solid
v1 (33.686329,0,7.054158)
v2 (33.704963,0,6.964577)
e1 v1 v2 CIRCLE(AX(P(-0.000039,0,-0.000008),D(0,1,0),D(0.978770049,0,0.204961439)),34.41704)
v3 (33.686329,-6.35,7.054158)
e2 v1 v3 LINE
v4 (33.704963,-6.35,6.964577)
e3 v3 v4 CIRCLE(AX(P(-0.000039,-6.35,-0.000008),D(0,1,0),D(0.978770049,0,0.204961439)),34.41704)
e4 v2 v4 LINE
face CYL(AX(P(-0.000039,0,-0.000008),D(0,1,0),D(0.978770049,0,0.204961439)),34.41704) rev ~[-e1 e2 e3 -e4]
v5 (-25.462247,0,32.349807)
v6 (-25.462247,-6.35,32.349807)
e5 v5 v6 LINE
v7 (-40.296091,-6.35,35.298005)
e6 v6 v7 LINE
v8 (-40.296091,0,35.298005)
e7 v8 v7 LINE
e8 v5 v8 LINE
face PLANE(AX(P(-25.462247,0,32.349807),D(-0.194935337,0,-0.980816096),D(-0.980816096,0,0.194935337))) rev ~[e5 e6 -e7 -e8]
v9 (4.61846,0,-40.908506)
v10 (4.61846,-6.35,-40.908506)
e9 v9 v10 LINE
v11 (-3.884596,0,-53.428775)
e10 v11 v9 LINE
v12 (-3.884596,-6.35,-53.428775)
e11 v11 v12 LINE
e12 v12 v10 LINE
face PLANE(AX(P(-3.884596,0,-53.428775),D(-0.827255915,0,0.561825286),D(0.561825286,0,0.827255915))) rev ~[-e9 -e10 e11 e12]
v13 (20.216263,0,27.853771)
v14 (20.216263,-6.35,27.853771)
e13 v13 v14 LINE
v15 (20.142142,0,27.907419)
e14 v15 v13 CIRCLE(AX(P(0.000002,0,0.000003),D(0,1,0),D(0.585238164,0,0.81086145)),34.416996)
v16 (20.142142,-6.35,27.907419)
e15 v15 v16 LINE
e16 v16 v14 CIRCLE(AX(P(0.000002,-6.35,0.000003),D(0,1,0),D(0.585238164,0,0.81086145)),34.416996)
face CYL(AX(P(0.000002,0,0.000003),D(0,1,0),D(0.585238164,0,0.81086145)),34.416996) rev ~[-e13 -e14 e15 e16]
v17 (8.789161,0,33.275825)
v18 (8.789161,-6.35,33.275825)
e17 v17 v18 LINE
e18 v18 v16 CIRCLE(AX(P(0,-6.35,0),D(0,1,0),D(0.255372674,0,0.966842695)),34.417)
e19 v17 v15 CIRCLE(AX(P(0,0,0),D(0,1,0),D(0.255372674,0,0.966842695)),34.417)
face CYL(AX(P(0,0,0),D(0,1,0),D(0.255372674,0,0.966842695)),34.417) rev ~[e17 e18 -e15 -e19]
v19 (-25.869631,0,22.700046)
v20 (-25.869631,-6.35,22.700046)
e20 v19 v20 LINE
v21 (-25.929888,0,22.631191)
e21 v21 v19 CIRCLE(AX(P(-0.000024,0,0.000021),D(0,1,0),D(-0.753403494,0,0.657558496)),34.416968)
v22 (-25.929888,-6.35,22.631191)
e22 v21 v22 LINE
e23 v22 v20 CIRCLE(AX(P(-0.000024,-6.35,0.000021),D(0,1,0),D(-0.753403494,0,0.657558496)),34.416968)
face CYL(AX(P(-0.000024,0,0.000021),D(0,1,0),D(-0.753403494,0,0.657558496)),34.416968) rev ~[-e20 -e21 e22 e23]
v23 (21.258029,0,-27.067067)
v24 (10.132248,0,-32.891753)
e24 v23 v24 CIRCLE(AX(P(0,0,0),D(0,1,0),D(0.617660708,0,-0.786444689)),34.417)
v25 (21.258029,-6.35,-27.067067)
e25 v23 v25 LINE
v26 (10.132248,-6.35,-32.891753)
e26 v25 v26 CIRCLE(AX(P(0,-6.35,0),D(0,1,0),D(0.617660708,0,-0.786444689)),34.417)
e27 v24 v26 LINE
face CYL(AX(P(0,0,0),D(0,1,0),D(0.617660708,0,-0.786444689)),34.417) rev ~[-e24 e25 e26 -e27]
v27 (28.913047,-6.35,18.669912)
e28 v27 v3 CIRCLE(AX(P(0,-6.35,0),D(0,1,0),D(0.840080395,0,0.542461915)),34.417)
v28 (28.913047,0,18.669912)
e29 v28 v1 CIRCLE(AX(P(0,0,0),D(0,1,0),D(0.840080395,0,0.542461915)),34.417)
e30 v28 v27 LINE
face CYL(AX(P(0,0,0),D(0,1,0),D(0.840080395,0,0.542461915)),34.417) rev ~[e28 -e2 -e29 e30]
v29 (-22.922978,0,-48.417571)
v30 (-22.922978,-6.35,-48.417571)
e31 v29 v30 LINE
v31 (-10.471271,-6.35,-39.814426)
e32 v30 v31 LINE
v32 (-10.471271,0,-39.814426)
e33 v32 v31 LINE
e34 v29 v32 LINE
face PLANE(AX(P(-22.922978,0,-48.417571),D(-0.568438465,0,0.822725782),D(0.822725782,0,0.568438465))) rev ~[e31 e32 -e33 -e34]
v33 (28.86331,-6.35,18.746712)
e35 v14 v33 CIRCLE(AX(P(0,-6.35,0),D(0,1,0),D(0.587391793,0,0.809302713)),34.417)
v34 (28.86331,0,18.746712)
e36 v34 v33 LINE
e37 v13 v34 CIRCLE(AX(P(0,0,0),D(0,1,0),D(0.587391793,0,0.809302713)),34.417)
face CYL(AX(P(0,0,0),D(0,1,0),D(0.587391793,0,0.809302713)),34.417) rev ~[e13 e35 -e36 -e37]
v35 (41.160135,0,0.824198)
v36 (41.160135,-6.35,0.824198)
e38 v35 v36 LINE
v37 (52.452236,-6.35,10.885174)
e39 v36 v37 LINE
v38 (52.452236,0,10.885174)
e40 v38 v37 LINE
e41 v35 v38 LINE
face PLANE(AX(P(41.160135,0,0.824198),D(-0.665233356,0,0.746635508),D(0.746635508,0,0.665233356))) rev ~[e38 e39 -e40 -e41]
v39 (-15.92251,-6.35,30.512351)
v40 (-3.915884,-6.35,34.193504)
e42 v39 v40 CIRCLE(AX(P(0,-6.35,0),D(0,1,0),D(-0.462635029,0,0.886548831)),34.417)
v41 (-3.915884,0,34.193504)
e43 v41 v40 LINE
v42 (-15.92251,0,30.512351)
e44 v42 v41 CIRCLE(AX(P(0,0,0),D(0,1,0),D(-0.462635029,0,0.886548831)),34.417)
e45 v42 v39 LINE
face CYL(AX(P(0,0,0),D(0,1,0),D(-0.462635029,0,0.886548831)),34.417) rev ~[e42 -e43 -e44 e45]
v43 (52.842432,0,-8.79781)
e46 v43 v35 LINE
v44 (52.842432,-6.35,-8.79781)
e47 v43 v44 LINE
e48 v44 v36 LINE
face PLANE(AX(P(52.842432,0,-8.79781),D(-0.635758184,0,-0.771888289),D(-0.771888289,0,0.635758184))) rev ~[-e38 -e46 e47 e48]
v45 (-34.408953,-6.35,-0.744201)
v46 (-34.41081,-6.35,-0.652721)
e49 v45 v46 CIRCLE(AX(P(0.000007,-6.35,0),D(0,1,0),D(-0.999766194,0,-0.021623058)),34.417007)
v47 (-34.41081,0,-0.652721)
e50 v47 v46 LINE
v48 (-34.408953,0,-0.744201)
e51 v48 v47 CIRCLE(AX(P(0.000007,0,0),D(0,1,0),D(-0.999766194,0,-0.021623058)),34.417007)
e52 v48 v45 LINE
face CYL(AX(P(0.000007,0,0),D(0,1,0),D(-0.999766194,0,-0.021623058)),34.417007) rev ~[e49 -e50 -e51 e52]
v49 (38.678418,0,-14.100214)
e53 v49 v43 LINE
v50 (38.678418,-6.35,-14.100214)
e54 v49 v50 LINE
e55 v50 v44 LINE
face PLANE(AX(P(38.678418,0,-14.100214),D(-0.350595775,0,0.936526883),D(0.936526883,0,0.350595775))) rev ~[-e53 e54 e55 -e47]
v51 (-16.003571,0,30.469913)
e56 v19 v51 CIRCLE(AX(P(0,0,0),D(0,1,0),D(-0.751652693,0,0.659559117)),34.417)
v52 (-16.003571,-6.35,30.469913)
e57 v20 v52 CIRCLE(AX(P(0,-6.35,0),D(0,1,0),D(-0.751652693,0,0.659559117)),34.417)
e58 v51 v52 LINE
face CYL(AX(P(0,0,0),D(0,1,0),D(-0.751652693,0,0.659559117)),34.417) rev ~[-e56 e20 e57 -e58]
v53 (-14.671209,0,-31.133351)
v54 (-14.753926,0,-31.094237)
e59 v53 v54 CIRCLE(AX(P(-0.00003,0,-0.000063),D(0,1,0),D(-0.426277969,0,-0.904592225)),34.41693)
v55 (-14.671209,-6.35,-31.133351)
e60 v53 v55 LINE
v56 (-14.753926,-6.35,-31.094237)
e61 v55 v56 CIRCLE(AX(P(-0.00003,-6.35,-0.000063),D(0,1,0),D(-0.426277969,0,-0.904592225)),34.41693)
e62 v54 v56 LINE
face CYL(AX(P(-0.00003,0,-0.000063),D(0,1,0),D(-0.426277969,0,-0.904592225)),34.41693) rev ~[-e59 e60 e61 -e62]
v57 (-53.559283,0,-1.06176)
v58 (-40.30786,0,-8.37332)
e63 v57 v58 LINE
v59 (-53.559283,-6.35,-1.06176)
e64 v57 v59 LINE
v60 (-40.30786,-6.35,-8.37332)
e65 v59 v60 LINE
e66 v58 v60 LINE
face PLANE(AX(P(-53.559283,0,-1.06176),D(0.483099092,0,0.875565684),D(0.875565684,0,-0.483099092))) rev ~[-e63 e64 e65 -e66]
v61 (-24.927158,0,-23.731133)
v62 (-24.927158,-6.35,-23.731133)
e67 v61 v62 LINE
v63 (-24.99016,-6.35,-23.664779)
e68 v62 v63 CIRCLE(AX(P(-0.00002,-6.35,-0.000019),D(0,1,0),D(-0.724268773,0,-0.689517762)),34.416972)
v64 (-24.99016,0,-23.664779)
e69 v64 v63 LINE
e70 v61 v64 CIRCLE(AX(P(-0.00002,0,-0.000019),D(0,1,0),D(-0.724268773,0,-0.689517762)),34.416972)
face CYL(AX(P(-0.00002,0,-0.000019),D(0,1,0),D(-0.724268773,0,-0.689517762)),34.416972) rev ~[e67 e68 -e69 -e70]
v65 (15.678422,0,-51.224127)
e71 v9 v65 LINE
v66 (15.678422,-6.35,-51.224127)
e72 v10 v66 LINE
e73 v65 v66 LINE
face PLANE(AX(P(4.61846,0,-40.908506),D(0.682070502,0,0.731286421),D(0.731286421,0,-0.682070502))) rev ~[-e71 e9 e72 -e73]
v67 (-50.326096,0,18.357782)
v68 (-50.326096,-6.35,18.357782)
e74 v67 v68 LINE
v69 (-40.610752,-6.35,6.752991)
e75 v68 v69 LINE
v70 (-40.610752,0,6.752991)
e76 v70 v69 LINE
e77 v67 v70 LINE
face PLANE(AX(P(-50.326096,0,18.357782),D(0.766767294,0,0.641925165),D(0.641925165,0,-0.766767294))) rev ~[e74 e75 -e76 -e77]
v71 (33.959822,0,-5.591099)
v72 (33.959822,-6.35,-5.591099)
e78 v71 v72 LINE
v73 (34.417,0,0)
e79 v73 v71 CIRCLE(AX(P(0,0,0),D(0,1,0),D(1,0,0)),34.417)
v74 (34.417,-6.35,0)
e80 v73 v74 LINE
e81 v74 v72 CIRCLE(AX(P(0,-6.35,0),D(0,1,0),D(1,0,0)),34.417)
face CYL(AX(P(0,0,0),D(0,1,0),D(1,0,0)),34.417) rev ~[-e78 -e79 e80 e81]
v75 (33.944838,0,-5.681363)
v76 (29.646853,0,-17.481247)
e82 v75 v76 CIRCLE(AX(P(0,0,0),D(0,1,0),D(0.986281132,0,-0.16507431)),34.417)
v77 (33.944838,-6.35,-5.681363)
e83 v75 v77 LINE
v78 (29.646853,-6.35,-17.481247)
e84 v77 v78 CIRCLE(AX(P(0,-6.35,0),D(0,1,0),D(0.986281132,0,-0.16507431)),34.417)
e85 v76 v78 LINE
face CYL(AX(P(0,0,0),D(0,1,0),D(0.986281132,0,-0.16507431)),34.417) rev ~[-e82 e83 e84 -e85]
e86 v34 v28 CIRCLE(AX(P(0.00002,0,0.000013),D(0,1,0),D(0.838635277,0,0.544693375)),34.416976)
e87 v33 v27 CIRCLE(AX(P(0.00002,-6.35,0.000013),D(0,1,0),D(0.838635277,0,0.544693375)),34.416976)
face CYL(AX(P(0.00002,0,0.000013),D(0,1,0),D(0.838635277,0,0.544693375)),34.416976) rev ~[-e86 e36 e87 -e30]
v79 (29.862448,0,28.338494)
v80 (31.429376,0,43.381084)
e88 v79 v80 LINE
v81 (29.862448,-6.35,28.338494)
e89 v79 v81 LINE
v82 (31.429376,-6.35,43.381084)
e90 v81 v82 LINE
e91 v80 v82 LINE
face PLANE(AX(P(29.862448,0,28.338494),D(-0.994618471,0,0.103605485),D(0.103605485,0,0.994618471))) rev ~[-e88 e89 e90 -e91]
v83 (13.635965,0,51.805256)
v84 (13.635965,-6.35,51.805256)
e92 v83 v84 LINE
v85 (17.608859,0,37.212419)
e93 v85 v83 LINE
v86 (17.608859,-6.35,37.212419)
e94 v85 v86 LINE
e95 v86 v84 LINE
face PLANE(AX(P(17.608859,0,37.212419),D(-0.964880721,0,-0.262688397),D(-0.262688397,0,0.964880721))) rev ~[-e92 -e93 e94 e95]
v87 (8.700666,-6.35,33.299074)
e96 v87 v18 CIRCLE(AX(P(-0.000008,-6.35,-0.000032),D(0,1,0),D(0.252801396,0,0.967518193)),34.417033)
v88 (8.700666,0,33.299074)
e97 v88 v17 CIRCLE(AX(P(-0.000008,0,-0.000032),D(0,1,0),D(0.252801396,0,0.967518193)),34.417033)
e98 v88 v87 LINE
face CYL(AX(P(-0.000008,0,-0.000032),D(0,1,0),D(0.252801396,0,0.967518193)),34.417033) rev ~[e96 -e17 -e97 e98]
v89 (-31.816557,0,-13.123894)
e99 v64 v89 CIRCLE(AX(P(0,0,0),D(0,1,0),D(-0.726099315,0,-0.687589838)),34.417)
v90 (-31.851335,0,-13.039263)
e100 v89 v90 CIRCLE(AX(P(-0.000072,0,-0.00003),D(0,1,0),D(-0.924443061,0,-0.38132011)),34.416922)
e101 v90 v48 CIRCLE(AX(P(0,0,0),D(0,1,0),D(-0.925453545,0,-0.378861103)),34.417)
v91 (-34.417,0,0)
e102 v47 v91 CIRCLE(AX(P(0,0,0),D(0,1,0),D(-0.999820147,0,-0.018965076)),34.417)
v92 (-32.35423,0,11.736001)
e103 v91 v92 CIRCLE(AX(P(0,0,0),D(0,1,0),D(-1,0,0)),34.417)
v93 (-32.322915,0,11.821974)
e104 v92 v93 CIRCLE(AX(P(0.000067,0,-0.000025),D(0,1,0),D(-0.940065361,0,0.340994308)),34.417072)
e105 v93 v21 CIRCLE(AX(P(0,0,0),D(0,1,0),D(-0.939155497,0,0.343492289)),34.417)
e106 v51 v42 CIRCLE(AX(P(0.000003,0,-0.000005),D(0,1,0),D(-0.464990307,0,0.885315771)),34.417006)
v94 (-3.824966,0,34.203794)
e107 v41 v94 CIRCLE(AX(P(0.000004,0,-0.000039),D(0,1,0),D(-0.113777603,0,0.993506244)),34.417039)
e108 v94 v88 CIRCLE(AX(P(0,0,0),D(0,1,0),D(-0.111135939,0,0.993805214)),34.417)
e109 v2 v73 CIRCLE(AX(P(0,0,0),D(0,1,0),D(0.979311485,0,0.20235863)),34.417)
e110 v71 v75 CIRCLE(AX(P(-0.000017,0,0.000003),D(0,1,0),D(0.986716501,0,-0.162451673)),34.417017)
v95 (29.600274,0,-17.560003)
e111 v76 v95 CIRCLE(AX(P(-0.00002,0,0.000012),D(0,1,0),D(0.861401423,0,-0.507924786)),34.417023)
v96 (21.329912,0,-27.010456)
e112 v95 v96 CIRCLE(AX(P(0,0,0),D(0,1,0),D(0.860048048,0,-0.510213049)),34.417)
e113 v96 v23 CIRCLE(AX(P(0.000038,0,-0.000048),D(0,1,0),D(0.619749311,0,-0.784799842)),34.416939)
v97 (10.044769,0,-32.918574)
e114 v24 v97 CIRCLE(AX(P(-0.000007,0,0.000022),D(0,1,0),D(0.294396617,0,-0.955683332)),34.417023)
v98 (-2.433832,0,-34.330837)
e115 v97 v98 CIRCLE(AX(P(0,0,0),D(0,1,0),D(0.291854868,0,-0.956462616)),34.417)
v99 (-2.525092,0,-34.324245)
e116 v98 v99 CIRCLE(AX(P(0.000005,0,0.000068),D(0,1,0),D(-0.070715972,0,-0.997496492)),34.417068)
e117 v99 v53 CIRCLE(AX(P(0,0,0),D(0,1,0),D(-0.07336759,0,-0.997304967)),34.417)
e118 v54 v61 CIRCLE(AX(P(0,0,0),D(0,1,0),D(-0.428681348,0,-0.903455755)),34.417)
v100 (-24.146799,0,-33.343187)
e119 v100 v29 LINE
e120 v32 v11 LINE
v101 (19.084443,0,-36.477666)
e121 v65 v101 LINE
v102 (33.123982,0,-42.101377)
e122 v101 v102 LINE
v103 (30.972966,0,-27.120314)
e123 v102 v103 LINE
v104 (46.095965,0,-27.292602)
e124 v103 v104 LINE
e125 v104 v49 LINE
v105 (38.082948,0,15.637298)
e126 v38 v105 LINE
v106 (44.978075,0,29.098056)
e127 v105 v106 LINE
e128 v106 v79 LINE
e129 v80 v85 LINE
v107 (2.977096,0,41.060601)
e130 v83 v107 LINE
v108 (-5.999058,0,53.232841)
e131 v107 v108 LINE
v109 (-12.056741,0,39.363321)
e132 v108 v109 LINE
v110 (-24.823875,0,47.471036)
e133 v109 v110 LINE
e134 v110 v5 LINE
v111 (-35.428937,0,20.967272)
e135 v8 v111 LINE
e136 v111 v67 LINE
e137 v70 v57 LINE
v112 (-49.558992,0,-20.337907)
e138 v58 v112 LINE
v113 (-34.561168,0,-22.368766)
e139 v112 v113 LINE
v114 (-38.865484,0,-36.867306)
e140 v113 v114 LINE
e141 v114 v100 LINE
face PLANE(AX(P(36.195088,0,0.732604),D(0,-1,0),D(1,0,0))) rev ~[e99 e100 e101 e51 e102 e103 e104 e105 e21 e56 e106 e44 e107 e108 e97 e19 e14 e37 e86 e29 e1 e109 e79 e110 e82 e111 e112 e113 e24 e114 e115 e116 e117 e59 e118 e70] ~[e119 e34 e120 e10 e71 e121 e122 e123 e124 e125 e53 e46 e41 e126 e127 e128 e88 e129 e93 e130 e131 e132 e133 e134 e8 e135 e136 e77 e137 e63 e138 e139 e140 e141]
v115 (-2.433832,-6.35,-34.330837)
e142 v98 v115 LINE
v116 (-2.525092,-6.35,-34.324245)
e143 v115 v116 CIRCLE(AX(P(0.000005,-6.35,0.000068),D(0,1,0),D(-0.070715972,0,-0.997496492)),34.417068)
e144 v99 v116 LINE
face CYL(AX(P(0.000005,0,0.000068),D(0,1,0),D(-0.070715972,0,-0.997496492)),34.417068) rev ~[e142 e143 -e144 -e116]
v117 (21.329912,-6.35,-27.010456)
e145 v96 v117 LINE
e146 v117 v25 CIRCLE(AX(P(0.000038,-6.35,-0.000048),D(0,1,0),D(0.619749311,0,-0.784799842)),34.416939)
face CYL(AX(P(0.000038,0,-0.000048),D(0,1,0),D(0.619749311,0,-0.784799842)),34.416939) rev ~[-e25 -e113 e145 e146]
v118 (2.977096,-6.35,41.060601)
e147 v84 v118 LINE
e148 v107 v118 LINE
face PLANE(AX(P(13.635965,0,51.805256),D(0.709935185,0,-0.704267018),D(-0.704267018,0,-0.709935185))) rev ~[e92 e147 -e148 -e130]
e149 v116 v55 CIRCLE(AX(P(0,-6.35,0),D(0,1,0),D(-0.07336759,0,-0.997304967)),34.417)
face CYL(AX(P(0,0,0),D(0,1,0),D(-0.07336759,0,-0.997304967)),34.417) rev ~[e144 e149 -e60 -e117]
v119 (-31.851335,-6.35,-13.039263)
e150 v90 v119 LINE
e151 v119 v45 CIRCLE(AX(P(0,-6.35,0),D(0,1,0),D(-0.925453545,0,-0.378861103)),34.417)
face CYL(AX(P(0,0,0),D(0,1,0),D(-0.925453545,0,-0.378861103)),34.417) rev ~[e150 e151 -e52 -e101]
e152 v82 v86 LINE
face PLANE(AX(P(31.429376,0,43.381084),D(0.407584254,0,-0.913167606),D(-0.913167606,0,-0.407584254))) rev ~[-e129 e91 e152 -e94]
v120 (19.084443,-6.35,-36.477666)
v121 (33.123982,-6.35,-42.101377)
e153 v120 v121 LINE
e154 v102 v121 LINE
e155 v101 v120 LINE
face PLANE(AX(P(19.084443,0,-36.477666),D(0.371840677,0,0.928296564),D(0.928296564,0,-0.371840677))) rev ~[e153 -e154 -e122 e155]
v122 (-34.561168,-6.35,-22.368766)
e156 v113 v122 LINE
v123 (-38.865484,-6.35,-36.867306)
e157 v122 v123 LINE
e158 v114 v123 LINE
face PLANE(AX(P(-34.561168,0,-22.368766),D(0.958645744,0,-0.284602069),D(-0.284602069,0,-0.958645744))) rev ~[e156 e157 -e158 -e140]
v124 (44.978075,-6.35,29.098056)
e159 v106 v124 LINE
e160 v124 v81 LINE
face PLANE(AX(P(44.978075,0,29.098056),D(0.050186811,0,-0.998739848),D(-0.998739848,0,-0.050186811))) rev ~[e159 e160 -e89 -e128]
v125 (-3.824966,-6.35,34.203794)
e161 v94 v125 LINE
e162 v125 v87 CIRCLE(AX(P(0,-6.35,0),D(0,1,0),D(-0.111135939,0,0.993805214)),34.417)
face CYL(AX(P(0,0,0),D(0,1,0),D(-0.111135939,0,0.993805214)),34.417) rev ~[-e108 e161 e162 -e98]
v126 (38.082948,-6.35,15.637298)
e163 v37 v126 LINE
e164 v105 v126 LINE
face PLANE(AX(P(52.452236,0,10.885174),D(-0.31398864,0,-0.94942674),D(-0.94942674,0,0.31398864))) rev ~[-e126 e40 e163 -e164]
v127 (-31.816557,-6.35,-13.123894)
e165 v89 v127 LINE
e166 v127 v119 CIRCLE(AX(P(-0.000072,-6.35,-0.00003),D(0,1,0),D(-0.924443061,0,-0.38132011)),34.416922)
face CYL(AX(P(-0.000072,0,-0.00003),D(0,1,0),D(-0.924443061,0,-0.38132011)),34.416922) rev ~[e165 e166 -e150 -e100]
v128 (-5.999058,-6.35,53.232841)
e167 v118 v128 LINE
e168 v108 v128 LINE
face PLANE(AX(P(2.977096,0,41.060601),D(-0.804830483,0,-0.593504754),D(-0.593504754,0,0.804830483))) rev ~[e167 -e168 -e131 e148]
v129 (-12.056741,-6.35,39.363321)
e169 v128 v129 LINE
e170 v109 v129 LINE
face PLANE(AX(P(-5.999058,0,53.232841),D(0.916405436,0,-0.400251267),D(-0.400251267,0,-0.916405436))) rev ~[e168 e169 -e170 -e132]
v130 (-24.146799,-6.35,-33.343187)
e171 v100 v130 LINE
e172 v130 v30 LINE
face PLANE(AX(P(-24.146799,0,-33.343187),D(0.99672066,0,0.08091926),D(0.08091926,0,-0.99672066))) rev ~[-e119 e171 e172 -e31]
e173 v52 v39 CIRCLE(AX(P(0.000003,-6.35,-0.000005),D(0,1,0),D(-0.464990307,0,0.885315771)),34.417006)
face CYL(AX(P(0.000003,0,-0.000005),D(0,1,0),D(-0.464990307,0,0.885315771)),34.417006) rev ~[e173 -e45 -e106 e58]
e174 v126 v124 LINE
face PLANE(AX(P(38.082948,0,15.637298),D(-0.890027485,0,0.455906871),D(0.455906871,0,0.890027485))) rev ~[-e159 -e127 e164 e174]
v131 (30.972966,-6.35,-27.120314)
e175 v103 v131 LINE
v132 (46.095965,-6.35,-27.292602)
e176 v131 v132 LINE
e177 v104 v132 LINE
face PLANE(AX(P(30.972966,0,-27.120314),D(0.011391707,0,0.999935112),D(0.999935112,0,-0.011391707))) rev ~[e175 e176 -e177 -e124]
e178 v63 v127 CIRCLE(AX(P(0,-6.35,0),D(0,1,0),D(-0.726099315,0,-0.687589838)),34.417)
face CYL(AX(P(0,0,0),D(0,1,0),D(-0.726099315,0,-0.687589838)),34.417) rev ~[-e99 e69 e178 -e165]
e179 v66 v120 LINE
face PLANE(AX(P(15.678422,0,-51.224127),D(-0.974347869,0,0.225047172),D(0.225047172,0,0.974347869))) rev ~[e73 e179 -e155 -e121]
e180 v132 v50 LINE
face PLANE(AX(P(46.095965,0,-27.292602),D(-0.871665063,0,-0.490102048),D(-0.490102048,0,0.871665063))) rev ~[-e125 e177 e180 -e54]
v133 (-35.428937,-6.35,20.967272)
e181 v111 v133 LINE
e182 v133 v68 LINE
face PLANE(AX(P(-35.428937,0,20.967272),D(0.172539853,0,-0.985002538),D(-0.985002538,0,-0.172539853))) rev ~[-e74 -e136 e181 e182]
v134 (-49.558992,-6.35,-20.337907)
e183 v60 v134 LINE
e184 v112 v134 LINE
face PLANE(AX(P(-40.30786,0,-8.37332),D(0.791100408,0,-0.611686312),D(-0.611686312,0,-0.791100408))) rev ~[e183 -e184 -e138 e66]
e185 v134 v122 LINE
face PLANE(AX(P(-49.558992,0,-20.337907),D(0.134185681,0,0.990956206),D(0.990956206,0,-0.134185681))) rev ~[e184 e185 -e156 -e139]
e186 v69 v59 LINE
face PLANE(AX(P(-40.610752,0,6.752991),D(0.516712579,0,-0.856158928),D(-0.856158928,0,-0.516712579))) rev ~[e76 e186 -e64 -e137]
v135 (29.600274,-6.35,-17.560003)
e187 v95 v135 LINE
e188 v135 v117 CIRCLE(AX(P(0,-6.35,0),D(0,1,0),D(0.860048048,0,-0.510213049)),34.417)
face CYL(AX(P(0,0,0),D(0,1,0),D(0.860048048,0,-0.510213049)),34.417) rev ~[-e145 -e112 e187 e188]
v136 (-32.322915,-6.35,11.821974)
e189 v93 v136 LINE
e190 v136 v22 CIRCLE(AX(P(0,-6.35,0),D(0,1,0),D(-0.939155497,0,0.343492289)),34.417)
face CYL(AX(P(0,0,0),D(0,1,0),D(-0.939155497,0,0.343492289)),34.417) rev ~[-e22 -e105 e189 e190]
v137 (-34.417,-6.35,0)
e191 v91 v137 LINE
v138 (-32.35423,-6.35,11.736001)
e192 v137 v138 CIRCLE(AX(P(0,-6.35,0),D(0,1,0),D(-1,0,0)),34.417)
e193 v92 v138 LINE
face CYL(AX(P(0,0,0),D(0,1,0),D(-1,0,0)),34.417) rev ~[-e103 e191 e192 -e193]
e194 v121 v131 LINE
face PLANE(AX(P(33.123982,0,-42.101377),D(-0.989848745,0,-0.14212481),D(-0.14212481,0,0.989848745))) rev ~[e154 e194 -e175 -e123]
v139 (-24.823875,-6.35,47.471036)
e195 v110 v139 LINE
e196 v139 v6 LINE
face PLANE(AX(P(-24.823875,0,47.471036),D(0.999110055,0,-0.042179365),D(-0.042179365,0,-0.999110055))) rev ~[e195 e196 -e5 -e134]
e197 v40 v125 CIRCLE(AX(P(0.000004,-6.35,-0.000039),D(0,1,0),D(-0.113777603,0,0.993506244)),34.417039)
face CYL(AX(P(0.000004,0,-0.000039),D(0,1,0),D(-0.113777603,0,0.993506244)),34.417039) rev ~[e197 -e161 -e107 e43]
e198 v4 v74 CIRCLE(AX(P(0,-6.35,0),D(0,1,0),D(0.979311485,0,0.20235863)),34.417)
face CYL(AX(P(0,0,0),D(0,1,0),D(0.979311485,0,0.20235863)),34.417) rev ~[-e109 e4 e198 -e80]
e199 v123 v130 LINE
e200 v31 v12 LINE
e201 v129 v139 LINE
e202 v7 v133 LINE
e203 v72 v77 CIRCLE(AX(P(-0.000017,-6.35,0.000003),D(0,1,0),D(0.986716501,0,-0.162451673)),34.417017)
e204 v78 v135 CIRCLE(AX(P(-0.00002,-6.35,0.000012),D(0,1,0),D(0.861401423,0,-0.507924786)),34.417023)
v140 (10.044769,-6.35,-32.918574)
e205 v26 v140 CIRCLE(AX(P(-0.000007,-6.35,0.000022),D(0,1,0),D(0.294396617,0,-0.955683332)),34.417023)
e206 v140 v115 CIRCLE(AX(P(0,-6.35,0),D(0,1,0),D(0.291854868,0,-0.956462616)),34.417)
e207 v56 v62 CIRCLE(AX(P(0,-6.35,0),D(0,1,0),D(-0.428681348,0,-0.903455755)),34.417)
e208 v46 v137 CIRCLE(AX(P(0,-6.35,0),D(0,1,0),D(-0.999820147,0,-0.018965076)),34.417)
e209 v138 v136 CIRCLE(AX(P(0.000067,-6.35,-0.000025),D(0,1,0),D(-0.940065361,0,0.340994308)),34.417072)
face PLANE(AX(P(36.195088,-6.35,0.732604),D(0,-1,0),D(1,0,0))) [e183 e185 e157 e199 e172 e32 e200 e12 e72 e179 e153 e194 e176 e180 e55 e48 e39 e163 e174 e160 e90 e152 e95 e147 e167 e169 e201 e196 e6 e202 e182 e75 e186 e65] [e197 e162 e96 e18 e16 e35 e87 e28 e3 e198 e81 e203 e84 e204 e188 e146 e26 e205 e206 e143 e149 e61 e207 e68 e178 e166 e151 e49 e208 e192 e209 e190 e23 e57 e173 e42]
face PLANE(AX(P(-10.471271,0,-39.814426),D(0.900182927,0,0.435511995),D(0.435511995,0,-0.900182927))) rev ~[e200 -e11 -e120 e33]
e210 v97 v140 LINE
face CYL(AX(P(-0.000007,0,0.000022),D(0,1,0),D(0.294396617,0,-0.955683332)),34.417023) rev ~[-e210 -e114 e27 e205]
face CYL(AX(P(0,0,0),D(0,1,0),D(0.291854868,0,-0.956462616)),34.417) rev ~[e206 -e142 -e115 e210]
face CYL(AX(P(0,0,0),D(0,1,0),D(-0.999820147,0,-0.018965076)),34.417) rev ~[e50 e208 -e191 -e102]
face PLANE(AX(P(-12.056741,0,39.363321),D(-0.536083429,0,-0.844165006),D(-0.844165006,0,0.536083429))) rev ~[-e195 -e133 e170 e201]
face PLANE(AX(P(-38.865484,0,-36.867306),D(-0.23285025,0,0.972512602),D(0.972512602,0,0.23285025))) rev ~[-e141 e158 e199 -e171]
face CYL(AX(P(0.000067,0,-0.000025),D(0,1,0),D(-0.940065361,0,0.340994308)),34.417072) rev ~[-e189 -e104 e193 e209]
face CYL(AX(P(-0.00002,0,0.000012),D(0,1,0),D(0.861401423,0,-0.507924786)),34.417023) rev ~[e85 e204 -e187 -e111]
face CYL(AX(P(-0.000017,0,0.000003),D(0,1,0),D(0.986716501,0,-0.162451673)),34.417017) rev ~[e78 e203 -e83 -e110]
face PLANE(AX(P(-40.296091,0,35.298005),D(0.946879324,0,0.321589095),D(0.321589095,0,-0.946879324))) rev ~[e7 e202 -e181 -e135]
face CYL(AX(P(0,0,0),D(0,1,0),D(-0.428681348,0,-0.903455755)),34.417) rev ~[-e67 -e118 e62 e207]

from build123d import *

# Parameters (mm, degrees)
F1_DEPTH = 6.35


with BuildPart() as f1:
    # F0 (on Front) → F1 (new body)
    with BuildSketch(Plane.XZ):
        with BuildLine():
            ThreePointArc((33.7049633841, 6.9645769632), (34.2385281064, 3.500440273), (34.417, 0))
            ThreePointArc((34.417, 0), (34.302515046, -2.8048797692), (33.9598218311, -5.5910991943))
            Line((33.9598218311, -5.5910991943), (41.1601353323, 0.8241980434))
            Line((41.1601353323, 0.8241980434), (33.7049633841, 6.9645769632))
        make_face()
        with BuildLine():
            ThreePointArc((33.6863287618, 7.0541578911), (33.6956758421, 7.0093736198), (33.7049633841, 6.9645769632))
            Line((33.7049633841, 6.9645769632), (41.1601353323, 0.8241980434))
            Line((41.1601353323, 0.8241980434), (52.4522360603, 10.8851742211))
            Line((52.4522360603, 10.8851742211), (38.0829484815, 15.6372976549))
            Line((38.0829484815, 15.6372976549), (33.6863287618, 7.0541578911))
        make_face()
        with BuildLine():
            Line((41.1601353323, 0.8241980434), (33.9598218311, -5.5910991943))
            ThreePointArc((33.9598218311, -5.5910991943), (33.9523597791, -5.6362358386), (33.9448377352, -5.6813625239))
            Line((33.9448377352, -5.6813625239), (38.6784178304, -14.1002140809))
            Line((38.6784178304, -14.1002140809), (52.8424319687, -8.7978104763))
            Line((52.8424319687, -8.7978104763), (41.1601353323, 0.8241980434))
        make_face()
        with BuildLine():
            ThreePointArc((28.9130469623, 18.6699117394), (31.8339739057, 13.0815899024), (33.6863287618, 7.0541578911))
            Line((33.6863287618, 7.0541578911), (38.0829484815, 15.6372976549))
            Line((38.0829484815, 15.6372976549), (28.9130469623, 18.6699117394))
        make_face()
        with BuildLine():
            Line((38.6784178304, -14.1002140809), (33.9448377352, -5.6813625239))
            ThreePointArc((33.9448377352, -5.6813625239), (32.338600716, -11.7789979509), (29.6468527842, -17.4812473522))
            Line((29.6468527842, -17.4812473522), (38.6784178304, -14.1002140809))
        make_face()
        with BuildLine():
            ThreePointArc((28.8633103308, 18.746711865), (28.8882041685, 18.7083283305), (28.9130469623, 18.6699117394))
            Line((28.9130469623, 18.6699117394), (38.0829484815, 15.6372976549))
            Line((38.0829484815, 15.6372976549), (44.978075024, 29.098055823))
            Line((44.978075024, 29.098055823), (29.8624484133, 28.3384935689))
            Line((29.8624484133, 28.3384935689), (28.8633103308, 18.746711865))
        make_face()
        with BuildLine():
            Line((38.6784178304, -14.1002140809), (29.6468527842, -17.4812473522))
            ThreePointArc((29.6468527842, -17.4812473522), (29.6235893914, -17.5206404154), (29.6002736554, -17.5600025206))
            Line((29.6002736554, -17.5600025206), (30.9729656759, -27.1203141617))
            Line((30.9729656759, -27.1203141617), (46.0959646298, -27.2926021184))
            Line((46.0959646298, -27.2926021184), (38.6784178304, -14.1002140809))
        make_face()
        with BuildLine():
            ThreePointArc((20.2162633355, 27.8537714816), (24.9586812859, 23.6979770755), (28.8633103308, 18.746711865))
            Line((28.8633103308, 18.746711865), (29.8624484133, 28.3384935689))
            Line((29.8624484133, 28.3384935689), (20.2162633355, 27.8537714816))
        make_face()
        with BuildLine():
            Line((30.9729656759, -27.1203141617), (29.6002736554, -17.5600025206))
            ThreePointArc((29.6002736554, -17.5600025206), (25.8997822597, -22.6656384843), (21.32991199, -27.0104561883))
            Line((21.32991199, -27.0104561883), (30.9729656759, -27.1203141617))
        make_face()
        with BuildLine():
            ThreePointArc((20.1421419025, 27.9074185223), (20.1792204468, 27.8806196337), (20.2162633355, 27.8537714816))
            Line((20.2162633355, 27.8537714816), (29.8624484133, 28.3384935689))
            Line((29.8624484133, 28.3384935689), (31.4293757236, 43.3810837482))
            Line((31.4293757236, 43.3810837482), (17.6088592133, 37.2124188974))
            Line((17.6088592133, 37.2124188974), (20.1421419025, 27.9074185223))
        make_face()
        with BuildLine():
            Line((30.9729656759, -27.1203141617), (21.32991199, -27.0104561883))
            ThreePointArc((21.32991199, -27.0104561883), (21.2939891065, -27.038785419), (21.2580285976, -27.0670668736))
            Line((21.2580285976, -27.0670668736), (19.0844428798, -36.477665536))
            Line((19.0844428798, -36.477665536), (33.123981841, -42.101376611))
            Line((33.123981841, -42.101376611), (30.9729656759, -27.1203141617))
        make_face()
        with BuildLine():
            ThreePointArc((-34.4108099912, -0.6527210357), (-34.415452463, -0.3263751931), (-34.417, 0))
            ThreePointArc((-34.417, 0), (-33.8973849094, 5.9579514354), (-32.354229549, 11.7360009923))
            Line((-32.354229549, 11.7360009923), (-40.6107518041, 6.7529905151))
            Line((-40.6107518041, 6.7529905151), (-34.4108099912, -0.6527210357))
        make_face()
        with BuildLine():
            ThreePointArc((8.789161323, 33.2758250422), (14.7125804577, 31.1138211295), (20.1421419025, 27.9074185223))
            Line((20.1421419025, 27.9074185223), (17.6088592133, 37.2124188974))
            Line((17.6088592133, 37.2124188974), (8.789161323, 33.2758250422))
        make_face()
        with BuildLine():
            Line((19.0844428798, -36.477665536), (21.2580285976, -27.0670668736))
            ThreePointArc((21.2580285976, -27.0670668736), (15.9630546935, -30.4911589457), (10.1322483884, -32.891753246))
            Line((10.1322483884, -32.891753246), (19.0844428798, -36.477665536))
        make_face()
        with BuildLine():
            Line((-40.6107518041, 6.7529905151), (-32.354229549, 11.7360009923))
            ThreePointArc((-32.354229549, 11.7360009923), (-32.338600716, 11.7789979509), (-32.3229147426, 11.8219740967))
            Line((-32.3229147426, 11.8219740967), (-35.4289367271, 20.9672717676))
            Line((-35.4289367271, 20.9672717676), (-50.3260957143, 18.3577824288))
            Line((-50.3260957143, 18.3577824288), (-40.6107518041, 6.7529905151))
        make_face()
        with BuildLine():
            ThreePointArc((-34.408953111, -0.7442007809), (-34.4099119513, -0.6984615254), (-34.4108099912, -0.6527210357))
            Line((-34.4108099912, -0.6527210357), (-40.6107518041, 6.7529905151))
            Line((-40.6107518041, 6.7529905151), (-53.55928258, -1.0617603602))
            Line((-53.55928258, -1.0617603602), (-40.307859818, -8.373319526))
            Line((-40.307859818, -8.373319526), (-34.408953111, -0.7442007809))
        make_face()
        with BuildLine():
            ThreePointArc((8.7006655989, 33.2990736679), (8.7449211868, 33.2874787636), (8.789161323, 33.2758250422))
            Line((8.789161323, 33.2758250422), (17.6088592133, 37.2124188974))
            Line((17.6088592133, 37.2124188974), (13.6359650756, 51.8052559303))
            Line((13.6359650756, 51.8052559303), (2.9770960026, 41.0606008527))
            Line((2.9770960026, 41.0606008527), (8.7006655989, 33.2990736678))
        make_face()
        with BuildLine():
            Line((19.0844428798, -36.477665536), (10.1322483884, -32.891753246))
            ThreePointArc((10.1322483884, -32.891753246), (10.0885175986, -32.9051926246), (10.0447689829, -32.9185738616))
            Line((10.0447689829, -32.9185738616), (4.6184603222, -40.90850605))
            Line((4.6184603222, -40.90850605), (15.6784217583, -51.2241269004))
            Line((15.6784217583, -51.2241269004), (19.0844428798, -36.477665536))
        make_face()
        with BuildLine():
            Line((-35.4289367271, 20.9672717676), (-32.3229147426, 11.8219740967))
            ThreePointArc((-32.3229147426, 11.8219740967), (-29.6235893914, 17.5206404154), (-25.9298880054, 22.6311908))
            Line((-25.9298880054, 22.6311908), (-35.4289367271, 20.9672717676))
        make_face()
        with BuildLine():
            ThreePointArc((-31.8513346736, -13.0392625754), (-33.6956758421, -7.0093736198), (-34.408953111, -0.7442007809))
            Line((-34.408953111, -0.7442007809), (-40.307859818, -8.373319526))
            Line((-40.307859818, -8.373319526), (-31.8513346736, -13.0392625754))
        make_face()
        with BuildLine():
            ThreePointArc((-3.8249656285, 34.2037940431), (2.4794641134, 34.3275712323), (8.7006655989, 33.2990736679))
            Line((8.7006655989, 33.2990736678), (2.9770960026, 41.0606008527))
            Line((2.9770960026, 41.0606008527), (-3.8249656285, 34.2037940431))
        make_face()
        with BuildLine():
            Line((4.6184603222, -40.90850605), (10.0447689829, -32.9185738616))
            ThreePointArc((10.0447689829, -32.9185738616), (3.8704281367, -34.1986794341), (-2.4338315028, -34.3308367684))
            Line((-2.4338315028, -34.3308367684), (4.6184603222, -40.90850605))
        make_face()
        with BuildLine():
            ThreePointArc((-31.8165568888, -13.1238941149), (-31.8339739057, -13.0815899024), (-31.8513346736, -13.0392625754))
            Line((-31.8513346736, -13.0392625754), (-40.307859818, -8.373319526))
            Line((-40.307859818, -8.373319526), (-49.558991551, -20.3379065292))
            Line((-49.558991551, -20.3379065292), (-34.5611680099, -22.368766367))
            Line((-34.5611680099, -22.368766367), (-31.8165568888, -13.1238941149))
        make_face()
        with BuildLine():
            ThreePointArc((-24.990160114, -23.6647794512), (-28.8882041685, -18.7083283305), (-31.8165568888, -13.1238941149))
            Line((-31.8165568888, -13.1238941149), (-34.5611680099, -22.368766367))
            Line((-34.5611680099, -22.368766367), (-24.990160114, -23.6647794512))
        make_face()
        with BuildLine():
            Line((-35.4289367271, 20.9672717676), (-25.9298880054, 22.6311908))
            ThreePointArc((-25.9298880054, 22.6311908), (-25.8997822597, 22.6656384843), (-25.8696307505, 22.7000461196))
            Line((-25.8696307505, 22.7000461196), (-25.4622474266, 32.3498067842))
            Line((-25.4622474266, 32.3498067842), (-40.2960907558, 35.2980049768))
            Line((-40.2960907558, 35.2980049768), (-35.4289367271, 20.9672717676))
        make_face()
        with BuildLine():
            ThreePointArc((-3.915883806, 34.193504398), (-3.8704281367, 34.1986794341), (-3.8249656285, 34.2037940431))
            Line((-3.8249656285, 34.2037940431), (2.9770960026, 41.0606008527))
            Line((2.9770960026, 41.0606008527), (-5.9990582154, 53.2328412361))
            Line((-5.9990582154, 53.2328412361), (-12.05674052, 39.3633211381))
            Line((-12.05674052, 39.3633211381), (-3.915883806, 34.193504398))
        make_face()
        with BuildLine():
            Line((4.6184603222, -40.90850605), (-2.4338315028, -34.3308367684))
            ThreePointArc((-2.4338315028, -34.3308367684), (-2.4794641134, -34.3275712323), (-2.5250923429, -34.3242450414))
            Line((-2.5250923429, -34.3242450414), (-10.4712708936, -39.8144261401))
            Line((-10.4712708936, -39.8144261401), (-3.88459606, -53.4287750093))
            Line((-3.88459606, -53.4287750093), (4.6184603222, -40.90850605))
        make_face()
        with BuildLine():
            Line((-25.4622474266, 32.3498067842), (-25.8696307505, 22.7000461196))
            ThreePointArc((-25.8696307505, 22.7000461196), (-21.2939891065, 27.038785419), (-16.0035714042, 30.4699128865))
            Line((-16.0035714042, 30.4699128865), (-25.4622474266, 32.3498067842))
        make_face()
        with BuildLine():
            ThreePointArc((-24.9271583572, -23.7311328267), (-24.9586812859, -23.6979770755), (-24.990160114, -23.6647794512))
            Line((-24.990160114, -23.6647794512), (-34.5611680099, -22.368766367))
            Line((-34.5611680099, -22.368766367), (-38.8654840973, -36.8673057251))
            Line((-38.8654840973, -36.8673057251), (-24.146798952, -33.3431873606))
            Line((-24.146798952, -33.3431873606), (-24.9271583572, -23.7311328267))
        make_face()
        with BuildLine():
            ThreePointArc((-14.7539259558, -31.0942367311), (-20.1792204468, -27.8806196337), (-24.9271583572, -23.7311328267))
            Line((-24.9271583572, -23.7311328267), (-24.146798952, -33.3431873606))
            Line((-24.146798952, -33.3431873606), (-14.7539259558, -31.0942367311))
        make_face()
        with BuildLine():
            ThreePointArc((-15.922509777, 30.5123511287), (-10.0885175986, 32.9051926246), (-3.915883806, 34.193504398))
            Line((-3.915883806, 34.193504398), (-12.05674052, 39.3633211381))
            Line((-12.05674052, 39.3633211381), (-15.922509777, 30.5123511287))
        make_face()
        with BuildLine():
            Line((-10.4712708936, -39.8144261401), (-2.5250923429, -34.3242450414))
            ThreePointArc((-2.5250923429, -34.3242450414), (-8.7449211868, -33.2874787636), (-14.6712089632, -31.1333505514))
            Line((-14.6712089632, -31.1333505514), (-10.4712708936, -39.8144261401))
        make_face()
        with BuildLine():
            Line((-25.4622474266, 32.3498067842), (-16.0035714042, 30.4699128865))
            ThreePointArc((-16.0035714042, 30.4699128865), (-15.9630546935, 30.4911589457), (-15.922509777, 30.5123511287))
            Line((-15.922509777, 30.5123511287), (-12.05674052, 39.3633211381))
            Line((-12.05674052, 39.3633211381), (-24.8238754524, 47.4710363597))
            Line((-24.8238754524, 47.4710363597), (-25.4622474266, 32.3498067842))
        make_face()
        with BuildLine():
            ThreePointArc((-14.6712089632, -31.1333505514), (-14.7125804577, -31.1138211295), (-14.7539259558, -31.0942367311))
            Line((-14.7539259558, -31.0942367311), (-24.146798952, -33.3431873606))
            Line((-24.146798952, -33.3431873606), (-22.9229776551, -48.4175709941))
            Line((-22.9229776551, -48.4175709941), (-10.4712708936, -39.8144261401))
            Line((-10.4712708936, -39.8144261401), (-14.6712089632, -31.1333505514))
        make_face()
    extrude(amount=F1_DEPTH)


solid = f1.part
